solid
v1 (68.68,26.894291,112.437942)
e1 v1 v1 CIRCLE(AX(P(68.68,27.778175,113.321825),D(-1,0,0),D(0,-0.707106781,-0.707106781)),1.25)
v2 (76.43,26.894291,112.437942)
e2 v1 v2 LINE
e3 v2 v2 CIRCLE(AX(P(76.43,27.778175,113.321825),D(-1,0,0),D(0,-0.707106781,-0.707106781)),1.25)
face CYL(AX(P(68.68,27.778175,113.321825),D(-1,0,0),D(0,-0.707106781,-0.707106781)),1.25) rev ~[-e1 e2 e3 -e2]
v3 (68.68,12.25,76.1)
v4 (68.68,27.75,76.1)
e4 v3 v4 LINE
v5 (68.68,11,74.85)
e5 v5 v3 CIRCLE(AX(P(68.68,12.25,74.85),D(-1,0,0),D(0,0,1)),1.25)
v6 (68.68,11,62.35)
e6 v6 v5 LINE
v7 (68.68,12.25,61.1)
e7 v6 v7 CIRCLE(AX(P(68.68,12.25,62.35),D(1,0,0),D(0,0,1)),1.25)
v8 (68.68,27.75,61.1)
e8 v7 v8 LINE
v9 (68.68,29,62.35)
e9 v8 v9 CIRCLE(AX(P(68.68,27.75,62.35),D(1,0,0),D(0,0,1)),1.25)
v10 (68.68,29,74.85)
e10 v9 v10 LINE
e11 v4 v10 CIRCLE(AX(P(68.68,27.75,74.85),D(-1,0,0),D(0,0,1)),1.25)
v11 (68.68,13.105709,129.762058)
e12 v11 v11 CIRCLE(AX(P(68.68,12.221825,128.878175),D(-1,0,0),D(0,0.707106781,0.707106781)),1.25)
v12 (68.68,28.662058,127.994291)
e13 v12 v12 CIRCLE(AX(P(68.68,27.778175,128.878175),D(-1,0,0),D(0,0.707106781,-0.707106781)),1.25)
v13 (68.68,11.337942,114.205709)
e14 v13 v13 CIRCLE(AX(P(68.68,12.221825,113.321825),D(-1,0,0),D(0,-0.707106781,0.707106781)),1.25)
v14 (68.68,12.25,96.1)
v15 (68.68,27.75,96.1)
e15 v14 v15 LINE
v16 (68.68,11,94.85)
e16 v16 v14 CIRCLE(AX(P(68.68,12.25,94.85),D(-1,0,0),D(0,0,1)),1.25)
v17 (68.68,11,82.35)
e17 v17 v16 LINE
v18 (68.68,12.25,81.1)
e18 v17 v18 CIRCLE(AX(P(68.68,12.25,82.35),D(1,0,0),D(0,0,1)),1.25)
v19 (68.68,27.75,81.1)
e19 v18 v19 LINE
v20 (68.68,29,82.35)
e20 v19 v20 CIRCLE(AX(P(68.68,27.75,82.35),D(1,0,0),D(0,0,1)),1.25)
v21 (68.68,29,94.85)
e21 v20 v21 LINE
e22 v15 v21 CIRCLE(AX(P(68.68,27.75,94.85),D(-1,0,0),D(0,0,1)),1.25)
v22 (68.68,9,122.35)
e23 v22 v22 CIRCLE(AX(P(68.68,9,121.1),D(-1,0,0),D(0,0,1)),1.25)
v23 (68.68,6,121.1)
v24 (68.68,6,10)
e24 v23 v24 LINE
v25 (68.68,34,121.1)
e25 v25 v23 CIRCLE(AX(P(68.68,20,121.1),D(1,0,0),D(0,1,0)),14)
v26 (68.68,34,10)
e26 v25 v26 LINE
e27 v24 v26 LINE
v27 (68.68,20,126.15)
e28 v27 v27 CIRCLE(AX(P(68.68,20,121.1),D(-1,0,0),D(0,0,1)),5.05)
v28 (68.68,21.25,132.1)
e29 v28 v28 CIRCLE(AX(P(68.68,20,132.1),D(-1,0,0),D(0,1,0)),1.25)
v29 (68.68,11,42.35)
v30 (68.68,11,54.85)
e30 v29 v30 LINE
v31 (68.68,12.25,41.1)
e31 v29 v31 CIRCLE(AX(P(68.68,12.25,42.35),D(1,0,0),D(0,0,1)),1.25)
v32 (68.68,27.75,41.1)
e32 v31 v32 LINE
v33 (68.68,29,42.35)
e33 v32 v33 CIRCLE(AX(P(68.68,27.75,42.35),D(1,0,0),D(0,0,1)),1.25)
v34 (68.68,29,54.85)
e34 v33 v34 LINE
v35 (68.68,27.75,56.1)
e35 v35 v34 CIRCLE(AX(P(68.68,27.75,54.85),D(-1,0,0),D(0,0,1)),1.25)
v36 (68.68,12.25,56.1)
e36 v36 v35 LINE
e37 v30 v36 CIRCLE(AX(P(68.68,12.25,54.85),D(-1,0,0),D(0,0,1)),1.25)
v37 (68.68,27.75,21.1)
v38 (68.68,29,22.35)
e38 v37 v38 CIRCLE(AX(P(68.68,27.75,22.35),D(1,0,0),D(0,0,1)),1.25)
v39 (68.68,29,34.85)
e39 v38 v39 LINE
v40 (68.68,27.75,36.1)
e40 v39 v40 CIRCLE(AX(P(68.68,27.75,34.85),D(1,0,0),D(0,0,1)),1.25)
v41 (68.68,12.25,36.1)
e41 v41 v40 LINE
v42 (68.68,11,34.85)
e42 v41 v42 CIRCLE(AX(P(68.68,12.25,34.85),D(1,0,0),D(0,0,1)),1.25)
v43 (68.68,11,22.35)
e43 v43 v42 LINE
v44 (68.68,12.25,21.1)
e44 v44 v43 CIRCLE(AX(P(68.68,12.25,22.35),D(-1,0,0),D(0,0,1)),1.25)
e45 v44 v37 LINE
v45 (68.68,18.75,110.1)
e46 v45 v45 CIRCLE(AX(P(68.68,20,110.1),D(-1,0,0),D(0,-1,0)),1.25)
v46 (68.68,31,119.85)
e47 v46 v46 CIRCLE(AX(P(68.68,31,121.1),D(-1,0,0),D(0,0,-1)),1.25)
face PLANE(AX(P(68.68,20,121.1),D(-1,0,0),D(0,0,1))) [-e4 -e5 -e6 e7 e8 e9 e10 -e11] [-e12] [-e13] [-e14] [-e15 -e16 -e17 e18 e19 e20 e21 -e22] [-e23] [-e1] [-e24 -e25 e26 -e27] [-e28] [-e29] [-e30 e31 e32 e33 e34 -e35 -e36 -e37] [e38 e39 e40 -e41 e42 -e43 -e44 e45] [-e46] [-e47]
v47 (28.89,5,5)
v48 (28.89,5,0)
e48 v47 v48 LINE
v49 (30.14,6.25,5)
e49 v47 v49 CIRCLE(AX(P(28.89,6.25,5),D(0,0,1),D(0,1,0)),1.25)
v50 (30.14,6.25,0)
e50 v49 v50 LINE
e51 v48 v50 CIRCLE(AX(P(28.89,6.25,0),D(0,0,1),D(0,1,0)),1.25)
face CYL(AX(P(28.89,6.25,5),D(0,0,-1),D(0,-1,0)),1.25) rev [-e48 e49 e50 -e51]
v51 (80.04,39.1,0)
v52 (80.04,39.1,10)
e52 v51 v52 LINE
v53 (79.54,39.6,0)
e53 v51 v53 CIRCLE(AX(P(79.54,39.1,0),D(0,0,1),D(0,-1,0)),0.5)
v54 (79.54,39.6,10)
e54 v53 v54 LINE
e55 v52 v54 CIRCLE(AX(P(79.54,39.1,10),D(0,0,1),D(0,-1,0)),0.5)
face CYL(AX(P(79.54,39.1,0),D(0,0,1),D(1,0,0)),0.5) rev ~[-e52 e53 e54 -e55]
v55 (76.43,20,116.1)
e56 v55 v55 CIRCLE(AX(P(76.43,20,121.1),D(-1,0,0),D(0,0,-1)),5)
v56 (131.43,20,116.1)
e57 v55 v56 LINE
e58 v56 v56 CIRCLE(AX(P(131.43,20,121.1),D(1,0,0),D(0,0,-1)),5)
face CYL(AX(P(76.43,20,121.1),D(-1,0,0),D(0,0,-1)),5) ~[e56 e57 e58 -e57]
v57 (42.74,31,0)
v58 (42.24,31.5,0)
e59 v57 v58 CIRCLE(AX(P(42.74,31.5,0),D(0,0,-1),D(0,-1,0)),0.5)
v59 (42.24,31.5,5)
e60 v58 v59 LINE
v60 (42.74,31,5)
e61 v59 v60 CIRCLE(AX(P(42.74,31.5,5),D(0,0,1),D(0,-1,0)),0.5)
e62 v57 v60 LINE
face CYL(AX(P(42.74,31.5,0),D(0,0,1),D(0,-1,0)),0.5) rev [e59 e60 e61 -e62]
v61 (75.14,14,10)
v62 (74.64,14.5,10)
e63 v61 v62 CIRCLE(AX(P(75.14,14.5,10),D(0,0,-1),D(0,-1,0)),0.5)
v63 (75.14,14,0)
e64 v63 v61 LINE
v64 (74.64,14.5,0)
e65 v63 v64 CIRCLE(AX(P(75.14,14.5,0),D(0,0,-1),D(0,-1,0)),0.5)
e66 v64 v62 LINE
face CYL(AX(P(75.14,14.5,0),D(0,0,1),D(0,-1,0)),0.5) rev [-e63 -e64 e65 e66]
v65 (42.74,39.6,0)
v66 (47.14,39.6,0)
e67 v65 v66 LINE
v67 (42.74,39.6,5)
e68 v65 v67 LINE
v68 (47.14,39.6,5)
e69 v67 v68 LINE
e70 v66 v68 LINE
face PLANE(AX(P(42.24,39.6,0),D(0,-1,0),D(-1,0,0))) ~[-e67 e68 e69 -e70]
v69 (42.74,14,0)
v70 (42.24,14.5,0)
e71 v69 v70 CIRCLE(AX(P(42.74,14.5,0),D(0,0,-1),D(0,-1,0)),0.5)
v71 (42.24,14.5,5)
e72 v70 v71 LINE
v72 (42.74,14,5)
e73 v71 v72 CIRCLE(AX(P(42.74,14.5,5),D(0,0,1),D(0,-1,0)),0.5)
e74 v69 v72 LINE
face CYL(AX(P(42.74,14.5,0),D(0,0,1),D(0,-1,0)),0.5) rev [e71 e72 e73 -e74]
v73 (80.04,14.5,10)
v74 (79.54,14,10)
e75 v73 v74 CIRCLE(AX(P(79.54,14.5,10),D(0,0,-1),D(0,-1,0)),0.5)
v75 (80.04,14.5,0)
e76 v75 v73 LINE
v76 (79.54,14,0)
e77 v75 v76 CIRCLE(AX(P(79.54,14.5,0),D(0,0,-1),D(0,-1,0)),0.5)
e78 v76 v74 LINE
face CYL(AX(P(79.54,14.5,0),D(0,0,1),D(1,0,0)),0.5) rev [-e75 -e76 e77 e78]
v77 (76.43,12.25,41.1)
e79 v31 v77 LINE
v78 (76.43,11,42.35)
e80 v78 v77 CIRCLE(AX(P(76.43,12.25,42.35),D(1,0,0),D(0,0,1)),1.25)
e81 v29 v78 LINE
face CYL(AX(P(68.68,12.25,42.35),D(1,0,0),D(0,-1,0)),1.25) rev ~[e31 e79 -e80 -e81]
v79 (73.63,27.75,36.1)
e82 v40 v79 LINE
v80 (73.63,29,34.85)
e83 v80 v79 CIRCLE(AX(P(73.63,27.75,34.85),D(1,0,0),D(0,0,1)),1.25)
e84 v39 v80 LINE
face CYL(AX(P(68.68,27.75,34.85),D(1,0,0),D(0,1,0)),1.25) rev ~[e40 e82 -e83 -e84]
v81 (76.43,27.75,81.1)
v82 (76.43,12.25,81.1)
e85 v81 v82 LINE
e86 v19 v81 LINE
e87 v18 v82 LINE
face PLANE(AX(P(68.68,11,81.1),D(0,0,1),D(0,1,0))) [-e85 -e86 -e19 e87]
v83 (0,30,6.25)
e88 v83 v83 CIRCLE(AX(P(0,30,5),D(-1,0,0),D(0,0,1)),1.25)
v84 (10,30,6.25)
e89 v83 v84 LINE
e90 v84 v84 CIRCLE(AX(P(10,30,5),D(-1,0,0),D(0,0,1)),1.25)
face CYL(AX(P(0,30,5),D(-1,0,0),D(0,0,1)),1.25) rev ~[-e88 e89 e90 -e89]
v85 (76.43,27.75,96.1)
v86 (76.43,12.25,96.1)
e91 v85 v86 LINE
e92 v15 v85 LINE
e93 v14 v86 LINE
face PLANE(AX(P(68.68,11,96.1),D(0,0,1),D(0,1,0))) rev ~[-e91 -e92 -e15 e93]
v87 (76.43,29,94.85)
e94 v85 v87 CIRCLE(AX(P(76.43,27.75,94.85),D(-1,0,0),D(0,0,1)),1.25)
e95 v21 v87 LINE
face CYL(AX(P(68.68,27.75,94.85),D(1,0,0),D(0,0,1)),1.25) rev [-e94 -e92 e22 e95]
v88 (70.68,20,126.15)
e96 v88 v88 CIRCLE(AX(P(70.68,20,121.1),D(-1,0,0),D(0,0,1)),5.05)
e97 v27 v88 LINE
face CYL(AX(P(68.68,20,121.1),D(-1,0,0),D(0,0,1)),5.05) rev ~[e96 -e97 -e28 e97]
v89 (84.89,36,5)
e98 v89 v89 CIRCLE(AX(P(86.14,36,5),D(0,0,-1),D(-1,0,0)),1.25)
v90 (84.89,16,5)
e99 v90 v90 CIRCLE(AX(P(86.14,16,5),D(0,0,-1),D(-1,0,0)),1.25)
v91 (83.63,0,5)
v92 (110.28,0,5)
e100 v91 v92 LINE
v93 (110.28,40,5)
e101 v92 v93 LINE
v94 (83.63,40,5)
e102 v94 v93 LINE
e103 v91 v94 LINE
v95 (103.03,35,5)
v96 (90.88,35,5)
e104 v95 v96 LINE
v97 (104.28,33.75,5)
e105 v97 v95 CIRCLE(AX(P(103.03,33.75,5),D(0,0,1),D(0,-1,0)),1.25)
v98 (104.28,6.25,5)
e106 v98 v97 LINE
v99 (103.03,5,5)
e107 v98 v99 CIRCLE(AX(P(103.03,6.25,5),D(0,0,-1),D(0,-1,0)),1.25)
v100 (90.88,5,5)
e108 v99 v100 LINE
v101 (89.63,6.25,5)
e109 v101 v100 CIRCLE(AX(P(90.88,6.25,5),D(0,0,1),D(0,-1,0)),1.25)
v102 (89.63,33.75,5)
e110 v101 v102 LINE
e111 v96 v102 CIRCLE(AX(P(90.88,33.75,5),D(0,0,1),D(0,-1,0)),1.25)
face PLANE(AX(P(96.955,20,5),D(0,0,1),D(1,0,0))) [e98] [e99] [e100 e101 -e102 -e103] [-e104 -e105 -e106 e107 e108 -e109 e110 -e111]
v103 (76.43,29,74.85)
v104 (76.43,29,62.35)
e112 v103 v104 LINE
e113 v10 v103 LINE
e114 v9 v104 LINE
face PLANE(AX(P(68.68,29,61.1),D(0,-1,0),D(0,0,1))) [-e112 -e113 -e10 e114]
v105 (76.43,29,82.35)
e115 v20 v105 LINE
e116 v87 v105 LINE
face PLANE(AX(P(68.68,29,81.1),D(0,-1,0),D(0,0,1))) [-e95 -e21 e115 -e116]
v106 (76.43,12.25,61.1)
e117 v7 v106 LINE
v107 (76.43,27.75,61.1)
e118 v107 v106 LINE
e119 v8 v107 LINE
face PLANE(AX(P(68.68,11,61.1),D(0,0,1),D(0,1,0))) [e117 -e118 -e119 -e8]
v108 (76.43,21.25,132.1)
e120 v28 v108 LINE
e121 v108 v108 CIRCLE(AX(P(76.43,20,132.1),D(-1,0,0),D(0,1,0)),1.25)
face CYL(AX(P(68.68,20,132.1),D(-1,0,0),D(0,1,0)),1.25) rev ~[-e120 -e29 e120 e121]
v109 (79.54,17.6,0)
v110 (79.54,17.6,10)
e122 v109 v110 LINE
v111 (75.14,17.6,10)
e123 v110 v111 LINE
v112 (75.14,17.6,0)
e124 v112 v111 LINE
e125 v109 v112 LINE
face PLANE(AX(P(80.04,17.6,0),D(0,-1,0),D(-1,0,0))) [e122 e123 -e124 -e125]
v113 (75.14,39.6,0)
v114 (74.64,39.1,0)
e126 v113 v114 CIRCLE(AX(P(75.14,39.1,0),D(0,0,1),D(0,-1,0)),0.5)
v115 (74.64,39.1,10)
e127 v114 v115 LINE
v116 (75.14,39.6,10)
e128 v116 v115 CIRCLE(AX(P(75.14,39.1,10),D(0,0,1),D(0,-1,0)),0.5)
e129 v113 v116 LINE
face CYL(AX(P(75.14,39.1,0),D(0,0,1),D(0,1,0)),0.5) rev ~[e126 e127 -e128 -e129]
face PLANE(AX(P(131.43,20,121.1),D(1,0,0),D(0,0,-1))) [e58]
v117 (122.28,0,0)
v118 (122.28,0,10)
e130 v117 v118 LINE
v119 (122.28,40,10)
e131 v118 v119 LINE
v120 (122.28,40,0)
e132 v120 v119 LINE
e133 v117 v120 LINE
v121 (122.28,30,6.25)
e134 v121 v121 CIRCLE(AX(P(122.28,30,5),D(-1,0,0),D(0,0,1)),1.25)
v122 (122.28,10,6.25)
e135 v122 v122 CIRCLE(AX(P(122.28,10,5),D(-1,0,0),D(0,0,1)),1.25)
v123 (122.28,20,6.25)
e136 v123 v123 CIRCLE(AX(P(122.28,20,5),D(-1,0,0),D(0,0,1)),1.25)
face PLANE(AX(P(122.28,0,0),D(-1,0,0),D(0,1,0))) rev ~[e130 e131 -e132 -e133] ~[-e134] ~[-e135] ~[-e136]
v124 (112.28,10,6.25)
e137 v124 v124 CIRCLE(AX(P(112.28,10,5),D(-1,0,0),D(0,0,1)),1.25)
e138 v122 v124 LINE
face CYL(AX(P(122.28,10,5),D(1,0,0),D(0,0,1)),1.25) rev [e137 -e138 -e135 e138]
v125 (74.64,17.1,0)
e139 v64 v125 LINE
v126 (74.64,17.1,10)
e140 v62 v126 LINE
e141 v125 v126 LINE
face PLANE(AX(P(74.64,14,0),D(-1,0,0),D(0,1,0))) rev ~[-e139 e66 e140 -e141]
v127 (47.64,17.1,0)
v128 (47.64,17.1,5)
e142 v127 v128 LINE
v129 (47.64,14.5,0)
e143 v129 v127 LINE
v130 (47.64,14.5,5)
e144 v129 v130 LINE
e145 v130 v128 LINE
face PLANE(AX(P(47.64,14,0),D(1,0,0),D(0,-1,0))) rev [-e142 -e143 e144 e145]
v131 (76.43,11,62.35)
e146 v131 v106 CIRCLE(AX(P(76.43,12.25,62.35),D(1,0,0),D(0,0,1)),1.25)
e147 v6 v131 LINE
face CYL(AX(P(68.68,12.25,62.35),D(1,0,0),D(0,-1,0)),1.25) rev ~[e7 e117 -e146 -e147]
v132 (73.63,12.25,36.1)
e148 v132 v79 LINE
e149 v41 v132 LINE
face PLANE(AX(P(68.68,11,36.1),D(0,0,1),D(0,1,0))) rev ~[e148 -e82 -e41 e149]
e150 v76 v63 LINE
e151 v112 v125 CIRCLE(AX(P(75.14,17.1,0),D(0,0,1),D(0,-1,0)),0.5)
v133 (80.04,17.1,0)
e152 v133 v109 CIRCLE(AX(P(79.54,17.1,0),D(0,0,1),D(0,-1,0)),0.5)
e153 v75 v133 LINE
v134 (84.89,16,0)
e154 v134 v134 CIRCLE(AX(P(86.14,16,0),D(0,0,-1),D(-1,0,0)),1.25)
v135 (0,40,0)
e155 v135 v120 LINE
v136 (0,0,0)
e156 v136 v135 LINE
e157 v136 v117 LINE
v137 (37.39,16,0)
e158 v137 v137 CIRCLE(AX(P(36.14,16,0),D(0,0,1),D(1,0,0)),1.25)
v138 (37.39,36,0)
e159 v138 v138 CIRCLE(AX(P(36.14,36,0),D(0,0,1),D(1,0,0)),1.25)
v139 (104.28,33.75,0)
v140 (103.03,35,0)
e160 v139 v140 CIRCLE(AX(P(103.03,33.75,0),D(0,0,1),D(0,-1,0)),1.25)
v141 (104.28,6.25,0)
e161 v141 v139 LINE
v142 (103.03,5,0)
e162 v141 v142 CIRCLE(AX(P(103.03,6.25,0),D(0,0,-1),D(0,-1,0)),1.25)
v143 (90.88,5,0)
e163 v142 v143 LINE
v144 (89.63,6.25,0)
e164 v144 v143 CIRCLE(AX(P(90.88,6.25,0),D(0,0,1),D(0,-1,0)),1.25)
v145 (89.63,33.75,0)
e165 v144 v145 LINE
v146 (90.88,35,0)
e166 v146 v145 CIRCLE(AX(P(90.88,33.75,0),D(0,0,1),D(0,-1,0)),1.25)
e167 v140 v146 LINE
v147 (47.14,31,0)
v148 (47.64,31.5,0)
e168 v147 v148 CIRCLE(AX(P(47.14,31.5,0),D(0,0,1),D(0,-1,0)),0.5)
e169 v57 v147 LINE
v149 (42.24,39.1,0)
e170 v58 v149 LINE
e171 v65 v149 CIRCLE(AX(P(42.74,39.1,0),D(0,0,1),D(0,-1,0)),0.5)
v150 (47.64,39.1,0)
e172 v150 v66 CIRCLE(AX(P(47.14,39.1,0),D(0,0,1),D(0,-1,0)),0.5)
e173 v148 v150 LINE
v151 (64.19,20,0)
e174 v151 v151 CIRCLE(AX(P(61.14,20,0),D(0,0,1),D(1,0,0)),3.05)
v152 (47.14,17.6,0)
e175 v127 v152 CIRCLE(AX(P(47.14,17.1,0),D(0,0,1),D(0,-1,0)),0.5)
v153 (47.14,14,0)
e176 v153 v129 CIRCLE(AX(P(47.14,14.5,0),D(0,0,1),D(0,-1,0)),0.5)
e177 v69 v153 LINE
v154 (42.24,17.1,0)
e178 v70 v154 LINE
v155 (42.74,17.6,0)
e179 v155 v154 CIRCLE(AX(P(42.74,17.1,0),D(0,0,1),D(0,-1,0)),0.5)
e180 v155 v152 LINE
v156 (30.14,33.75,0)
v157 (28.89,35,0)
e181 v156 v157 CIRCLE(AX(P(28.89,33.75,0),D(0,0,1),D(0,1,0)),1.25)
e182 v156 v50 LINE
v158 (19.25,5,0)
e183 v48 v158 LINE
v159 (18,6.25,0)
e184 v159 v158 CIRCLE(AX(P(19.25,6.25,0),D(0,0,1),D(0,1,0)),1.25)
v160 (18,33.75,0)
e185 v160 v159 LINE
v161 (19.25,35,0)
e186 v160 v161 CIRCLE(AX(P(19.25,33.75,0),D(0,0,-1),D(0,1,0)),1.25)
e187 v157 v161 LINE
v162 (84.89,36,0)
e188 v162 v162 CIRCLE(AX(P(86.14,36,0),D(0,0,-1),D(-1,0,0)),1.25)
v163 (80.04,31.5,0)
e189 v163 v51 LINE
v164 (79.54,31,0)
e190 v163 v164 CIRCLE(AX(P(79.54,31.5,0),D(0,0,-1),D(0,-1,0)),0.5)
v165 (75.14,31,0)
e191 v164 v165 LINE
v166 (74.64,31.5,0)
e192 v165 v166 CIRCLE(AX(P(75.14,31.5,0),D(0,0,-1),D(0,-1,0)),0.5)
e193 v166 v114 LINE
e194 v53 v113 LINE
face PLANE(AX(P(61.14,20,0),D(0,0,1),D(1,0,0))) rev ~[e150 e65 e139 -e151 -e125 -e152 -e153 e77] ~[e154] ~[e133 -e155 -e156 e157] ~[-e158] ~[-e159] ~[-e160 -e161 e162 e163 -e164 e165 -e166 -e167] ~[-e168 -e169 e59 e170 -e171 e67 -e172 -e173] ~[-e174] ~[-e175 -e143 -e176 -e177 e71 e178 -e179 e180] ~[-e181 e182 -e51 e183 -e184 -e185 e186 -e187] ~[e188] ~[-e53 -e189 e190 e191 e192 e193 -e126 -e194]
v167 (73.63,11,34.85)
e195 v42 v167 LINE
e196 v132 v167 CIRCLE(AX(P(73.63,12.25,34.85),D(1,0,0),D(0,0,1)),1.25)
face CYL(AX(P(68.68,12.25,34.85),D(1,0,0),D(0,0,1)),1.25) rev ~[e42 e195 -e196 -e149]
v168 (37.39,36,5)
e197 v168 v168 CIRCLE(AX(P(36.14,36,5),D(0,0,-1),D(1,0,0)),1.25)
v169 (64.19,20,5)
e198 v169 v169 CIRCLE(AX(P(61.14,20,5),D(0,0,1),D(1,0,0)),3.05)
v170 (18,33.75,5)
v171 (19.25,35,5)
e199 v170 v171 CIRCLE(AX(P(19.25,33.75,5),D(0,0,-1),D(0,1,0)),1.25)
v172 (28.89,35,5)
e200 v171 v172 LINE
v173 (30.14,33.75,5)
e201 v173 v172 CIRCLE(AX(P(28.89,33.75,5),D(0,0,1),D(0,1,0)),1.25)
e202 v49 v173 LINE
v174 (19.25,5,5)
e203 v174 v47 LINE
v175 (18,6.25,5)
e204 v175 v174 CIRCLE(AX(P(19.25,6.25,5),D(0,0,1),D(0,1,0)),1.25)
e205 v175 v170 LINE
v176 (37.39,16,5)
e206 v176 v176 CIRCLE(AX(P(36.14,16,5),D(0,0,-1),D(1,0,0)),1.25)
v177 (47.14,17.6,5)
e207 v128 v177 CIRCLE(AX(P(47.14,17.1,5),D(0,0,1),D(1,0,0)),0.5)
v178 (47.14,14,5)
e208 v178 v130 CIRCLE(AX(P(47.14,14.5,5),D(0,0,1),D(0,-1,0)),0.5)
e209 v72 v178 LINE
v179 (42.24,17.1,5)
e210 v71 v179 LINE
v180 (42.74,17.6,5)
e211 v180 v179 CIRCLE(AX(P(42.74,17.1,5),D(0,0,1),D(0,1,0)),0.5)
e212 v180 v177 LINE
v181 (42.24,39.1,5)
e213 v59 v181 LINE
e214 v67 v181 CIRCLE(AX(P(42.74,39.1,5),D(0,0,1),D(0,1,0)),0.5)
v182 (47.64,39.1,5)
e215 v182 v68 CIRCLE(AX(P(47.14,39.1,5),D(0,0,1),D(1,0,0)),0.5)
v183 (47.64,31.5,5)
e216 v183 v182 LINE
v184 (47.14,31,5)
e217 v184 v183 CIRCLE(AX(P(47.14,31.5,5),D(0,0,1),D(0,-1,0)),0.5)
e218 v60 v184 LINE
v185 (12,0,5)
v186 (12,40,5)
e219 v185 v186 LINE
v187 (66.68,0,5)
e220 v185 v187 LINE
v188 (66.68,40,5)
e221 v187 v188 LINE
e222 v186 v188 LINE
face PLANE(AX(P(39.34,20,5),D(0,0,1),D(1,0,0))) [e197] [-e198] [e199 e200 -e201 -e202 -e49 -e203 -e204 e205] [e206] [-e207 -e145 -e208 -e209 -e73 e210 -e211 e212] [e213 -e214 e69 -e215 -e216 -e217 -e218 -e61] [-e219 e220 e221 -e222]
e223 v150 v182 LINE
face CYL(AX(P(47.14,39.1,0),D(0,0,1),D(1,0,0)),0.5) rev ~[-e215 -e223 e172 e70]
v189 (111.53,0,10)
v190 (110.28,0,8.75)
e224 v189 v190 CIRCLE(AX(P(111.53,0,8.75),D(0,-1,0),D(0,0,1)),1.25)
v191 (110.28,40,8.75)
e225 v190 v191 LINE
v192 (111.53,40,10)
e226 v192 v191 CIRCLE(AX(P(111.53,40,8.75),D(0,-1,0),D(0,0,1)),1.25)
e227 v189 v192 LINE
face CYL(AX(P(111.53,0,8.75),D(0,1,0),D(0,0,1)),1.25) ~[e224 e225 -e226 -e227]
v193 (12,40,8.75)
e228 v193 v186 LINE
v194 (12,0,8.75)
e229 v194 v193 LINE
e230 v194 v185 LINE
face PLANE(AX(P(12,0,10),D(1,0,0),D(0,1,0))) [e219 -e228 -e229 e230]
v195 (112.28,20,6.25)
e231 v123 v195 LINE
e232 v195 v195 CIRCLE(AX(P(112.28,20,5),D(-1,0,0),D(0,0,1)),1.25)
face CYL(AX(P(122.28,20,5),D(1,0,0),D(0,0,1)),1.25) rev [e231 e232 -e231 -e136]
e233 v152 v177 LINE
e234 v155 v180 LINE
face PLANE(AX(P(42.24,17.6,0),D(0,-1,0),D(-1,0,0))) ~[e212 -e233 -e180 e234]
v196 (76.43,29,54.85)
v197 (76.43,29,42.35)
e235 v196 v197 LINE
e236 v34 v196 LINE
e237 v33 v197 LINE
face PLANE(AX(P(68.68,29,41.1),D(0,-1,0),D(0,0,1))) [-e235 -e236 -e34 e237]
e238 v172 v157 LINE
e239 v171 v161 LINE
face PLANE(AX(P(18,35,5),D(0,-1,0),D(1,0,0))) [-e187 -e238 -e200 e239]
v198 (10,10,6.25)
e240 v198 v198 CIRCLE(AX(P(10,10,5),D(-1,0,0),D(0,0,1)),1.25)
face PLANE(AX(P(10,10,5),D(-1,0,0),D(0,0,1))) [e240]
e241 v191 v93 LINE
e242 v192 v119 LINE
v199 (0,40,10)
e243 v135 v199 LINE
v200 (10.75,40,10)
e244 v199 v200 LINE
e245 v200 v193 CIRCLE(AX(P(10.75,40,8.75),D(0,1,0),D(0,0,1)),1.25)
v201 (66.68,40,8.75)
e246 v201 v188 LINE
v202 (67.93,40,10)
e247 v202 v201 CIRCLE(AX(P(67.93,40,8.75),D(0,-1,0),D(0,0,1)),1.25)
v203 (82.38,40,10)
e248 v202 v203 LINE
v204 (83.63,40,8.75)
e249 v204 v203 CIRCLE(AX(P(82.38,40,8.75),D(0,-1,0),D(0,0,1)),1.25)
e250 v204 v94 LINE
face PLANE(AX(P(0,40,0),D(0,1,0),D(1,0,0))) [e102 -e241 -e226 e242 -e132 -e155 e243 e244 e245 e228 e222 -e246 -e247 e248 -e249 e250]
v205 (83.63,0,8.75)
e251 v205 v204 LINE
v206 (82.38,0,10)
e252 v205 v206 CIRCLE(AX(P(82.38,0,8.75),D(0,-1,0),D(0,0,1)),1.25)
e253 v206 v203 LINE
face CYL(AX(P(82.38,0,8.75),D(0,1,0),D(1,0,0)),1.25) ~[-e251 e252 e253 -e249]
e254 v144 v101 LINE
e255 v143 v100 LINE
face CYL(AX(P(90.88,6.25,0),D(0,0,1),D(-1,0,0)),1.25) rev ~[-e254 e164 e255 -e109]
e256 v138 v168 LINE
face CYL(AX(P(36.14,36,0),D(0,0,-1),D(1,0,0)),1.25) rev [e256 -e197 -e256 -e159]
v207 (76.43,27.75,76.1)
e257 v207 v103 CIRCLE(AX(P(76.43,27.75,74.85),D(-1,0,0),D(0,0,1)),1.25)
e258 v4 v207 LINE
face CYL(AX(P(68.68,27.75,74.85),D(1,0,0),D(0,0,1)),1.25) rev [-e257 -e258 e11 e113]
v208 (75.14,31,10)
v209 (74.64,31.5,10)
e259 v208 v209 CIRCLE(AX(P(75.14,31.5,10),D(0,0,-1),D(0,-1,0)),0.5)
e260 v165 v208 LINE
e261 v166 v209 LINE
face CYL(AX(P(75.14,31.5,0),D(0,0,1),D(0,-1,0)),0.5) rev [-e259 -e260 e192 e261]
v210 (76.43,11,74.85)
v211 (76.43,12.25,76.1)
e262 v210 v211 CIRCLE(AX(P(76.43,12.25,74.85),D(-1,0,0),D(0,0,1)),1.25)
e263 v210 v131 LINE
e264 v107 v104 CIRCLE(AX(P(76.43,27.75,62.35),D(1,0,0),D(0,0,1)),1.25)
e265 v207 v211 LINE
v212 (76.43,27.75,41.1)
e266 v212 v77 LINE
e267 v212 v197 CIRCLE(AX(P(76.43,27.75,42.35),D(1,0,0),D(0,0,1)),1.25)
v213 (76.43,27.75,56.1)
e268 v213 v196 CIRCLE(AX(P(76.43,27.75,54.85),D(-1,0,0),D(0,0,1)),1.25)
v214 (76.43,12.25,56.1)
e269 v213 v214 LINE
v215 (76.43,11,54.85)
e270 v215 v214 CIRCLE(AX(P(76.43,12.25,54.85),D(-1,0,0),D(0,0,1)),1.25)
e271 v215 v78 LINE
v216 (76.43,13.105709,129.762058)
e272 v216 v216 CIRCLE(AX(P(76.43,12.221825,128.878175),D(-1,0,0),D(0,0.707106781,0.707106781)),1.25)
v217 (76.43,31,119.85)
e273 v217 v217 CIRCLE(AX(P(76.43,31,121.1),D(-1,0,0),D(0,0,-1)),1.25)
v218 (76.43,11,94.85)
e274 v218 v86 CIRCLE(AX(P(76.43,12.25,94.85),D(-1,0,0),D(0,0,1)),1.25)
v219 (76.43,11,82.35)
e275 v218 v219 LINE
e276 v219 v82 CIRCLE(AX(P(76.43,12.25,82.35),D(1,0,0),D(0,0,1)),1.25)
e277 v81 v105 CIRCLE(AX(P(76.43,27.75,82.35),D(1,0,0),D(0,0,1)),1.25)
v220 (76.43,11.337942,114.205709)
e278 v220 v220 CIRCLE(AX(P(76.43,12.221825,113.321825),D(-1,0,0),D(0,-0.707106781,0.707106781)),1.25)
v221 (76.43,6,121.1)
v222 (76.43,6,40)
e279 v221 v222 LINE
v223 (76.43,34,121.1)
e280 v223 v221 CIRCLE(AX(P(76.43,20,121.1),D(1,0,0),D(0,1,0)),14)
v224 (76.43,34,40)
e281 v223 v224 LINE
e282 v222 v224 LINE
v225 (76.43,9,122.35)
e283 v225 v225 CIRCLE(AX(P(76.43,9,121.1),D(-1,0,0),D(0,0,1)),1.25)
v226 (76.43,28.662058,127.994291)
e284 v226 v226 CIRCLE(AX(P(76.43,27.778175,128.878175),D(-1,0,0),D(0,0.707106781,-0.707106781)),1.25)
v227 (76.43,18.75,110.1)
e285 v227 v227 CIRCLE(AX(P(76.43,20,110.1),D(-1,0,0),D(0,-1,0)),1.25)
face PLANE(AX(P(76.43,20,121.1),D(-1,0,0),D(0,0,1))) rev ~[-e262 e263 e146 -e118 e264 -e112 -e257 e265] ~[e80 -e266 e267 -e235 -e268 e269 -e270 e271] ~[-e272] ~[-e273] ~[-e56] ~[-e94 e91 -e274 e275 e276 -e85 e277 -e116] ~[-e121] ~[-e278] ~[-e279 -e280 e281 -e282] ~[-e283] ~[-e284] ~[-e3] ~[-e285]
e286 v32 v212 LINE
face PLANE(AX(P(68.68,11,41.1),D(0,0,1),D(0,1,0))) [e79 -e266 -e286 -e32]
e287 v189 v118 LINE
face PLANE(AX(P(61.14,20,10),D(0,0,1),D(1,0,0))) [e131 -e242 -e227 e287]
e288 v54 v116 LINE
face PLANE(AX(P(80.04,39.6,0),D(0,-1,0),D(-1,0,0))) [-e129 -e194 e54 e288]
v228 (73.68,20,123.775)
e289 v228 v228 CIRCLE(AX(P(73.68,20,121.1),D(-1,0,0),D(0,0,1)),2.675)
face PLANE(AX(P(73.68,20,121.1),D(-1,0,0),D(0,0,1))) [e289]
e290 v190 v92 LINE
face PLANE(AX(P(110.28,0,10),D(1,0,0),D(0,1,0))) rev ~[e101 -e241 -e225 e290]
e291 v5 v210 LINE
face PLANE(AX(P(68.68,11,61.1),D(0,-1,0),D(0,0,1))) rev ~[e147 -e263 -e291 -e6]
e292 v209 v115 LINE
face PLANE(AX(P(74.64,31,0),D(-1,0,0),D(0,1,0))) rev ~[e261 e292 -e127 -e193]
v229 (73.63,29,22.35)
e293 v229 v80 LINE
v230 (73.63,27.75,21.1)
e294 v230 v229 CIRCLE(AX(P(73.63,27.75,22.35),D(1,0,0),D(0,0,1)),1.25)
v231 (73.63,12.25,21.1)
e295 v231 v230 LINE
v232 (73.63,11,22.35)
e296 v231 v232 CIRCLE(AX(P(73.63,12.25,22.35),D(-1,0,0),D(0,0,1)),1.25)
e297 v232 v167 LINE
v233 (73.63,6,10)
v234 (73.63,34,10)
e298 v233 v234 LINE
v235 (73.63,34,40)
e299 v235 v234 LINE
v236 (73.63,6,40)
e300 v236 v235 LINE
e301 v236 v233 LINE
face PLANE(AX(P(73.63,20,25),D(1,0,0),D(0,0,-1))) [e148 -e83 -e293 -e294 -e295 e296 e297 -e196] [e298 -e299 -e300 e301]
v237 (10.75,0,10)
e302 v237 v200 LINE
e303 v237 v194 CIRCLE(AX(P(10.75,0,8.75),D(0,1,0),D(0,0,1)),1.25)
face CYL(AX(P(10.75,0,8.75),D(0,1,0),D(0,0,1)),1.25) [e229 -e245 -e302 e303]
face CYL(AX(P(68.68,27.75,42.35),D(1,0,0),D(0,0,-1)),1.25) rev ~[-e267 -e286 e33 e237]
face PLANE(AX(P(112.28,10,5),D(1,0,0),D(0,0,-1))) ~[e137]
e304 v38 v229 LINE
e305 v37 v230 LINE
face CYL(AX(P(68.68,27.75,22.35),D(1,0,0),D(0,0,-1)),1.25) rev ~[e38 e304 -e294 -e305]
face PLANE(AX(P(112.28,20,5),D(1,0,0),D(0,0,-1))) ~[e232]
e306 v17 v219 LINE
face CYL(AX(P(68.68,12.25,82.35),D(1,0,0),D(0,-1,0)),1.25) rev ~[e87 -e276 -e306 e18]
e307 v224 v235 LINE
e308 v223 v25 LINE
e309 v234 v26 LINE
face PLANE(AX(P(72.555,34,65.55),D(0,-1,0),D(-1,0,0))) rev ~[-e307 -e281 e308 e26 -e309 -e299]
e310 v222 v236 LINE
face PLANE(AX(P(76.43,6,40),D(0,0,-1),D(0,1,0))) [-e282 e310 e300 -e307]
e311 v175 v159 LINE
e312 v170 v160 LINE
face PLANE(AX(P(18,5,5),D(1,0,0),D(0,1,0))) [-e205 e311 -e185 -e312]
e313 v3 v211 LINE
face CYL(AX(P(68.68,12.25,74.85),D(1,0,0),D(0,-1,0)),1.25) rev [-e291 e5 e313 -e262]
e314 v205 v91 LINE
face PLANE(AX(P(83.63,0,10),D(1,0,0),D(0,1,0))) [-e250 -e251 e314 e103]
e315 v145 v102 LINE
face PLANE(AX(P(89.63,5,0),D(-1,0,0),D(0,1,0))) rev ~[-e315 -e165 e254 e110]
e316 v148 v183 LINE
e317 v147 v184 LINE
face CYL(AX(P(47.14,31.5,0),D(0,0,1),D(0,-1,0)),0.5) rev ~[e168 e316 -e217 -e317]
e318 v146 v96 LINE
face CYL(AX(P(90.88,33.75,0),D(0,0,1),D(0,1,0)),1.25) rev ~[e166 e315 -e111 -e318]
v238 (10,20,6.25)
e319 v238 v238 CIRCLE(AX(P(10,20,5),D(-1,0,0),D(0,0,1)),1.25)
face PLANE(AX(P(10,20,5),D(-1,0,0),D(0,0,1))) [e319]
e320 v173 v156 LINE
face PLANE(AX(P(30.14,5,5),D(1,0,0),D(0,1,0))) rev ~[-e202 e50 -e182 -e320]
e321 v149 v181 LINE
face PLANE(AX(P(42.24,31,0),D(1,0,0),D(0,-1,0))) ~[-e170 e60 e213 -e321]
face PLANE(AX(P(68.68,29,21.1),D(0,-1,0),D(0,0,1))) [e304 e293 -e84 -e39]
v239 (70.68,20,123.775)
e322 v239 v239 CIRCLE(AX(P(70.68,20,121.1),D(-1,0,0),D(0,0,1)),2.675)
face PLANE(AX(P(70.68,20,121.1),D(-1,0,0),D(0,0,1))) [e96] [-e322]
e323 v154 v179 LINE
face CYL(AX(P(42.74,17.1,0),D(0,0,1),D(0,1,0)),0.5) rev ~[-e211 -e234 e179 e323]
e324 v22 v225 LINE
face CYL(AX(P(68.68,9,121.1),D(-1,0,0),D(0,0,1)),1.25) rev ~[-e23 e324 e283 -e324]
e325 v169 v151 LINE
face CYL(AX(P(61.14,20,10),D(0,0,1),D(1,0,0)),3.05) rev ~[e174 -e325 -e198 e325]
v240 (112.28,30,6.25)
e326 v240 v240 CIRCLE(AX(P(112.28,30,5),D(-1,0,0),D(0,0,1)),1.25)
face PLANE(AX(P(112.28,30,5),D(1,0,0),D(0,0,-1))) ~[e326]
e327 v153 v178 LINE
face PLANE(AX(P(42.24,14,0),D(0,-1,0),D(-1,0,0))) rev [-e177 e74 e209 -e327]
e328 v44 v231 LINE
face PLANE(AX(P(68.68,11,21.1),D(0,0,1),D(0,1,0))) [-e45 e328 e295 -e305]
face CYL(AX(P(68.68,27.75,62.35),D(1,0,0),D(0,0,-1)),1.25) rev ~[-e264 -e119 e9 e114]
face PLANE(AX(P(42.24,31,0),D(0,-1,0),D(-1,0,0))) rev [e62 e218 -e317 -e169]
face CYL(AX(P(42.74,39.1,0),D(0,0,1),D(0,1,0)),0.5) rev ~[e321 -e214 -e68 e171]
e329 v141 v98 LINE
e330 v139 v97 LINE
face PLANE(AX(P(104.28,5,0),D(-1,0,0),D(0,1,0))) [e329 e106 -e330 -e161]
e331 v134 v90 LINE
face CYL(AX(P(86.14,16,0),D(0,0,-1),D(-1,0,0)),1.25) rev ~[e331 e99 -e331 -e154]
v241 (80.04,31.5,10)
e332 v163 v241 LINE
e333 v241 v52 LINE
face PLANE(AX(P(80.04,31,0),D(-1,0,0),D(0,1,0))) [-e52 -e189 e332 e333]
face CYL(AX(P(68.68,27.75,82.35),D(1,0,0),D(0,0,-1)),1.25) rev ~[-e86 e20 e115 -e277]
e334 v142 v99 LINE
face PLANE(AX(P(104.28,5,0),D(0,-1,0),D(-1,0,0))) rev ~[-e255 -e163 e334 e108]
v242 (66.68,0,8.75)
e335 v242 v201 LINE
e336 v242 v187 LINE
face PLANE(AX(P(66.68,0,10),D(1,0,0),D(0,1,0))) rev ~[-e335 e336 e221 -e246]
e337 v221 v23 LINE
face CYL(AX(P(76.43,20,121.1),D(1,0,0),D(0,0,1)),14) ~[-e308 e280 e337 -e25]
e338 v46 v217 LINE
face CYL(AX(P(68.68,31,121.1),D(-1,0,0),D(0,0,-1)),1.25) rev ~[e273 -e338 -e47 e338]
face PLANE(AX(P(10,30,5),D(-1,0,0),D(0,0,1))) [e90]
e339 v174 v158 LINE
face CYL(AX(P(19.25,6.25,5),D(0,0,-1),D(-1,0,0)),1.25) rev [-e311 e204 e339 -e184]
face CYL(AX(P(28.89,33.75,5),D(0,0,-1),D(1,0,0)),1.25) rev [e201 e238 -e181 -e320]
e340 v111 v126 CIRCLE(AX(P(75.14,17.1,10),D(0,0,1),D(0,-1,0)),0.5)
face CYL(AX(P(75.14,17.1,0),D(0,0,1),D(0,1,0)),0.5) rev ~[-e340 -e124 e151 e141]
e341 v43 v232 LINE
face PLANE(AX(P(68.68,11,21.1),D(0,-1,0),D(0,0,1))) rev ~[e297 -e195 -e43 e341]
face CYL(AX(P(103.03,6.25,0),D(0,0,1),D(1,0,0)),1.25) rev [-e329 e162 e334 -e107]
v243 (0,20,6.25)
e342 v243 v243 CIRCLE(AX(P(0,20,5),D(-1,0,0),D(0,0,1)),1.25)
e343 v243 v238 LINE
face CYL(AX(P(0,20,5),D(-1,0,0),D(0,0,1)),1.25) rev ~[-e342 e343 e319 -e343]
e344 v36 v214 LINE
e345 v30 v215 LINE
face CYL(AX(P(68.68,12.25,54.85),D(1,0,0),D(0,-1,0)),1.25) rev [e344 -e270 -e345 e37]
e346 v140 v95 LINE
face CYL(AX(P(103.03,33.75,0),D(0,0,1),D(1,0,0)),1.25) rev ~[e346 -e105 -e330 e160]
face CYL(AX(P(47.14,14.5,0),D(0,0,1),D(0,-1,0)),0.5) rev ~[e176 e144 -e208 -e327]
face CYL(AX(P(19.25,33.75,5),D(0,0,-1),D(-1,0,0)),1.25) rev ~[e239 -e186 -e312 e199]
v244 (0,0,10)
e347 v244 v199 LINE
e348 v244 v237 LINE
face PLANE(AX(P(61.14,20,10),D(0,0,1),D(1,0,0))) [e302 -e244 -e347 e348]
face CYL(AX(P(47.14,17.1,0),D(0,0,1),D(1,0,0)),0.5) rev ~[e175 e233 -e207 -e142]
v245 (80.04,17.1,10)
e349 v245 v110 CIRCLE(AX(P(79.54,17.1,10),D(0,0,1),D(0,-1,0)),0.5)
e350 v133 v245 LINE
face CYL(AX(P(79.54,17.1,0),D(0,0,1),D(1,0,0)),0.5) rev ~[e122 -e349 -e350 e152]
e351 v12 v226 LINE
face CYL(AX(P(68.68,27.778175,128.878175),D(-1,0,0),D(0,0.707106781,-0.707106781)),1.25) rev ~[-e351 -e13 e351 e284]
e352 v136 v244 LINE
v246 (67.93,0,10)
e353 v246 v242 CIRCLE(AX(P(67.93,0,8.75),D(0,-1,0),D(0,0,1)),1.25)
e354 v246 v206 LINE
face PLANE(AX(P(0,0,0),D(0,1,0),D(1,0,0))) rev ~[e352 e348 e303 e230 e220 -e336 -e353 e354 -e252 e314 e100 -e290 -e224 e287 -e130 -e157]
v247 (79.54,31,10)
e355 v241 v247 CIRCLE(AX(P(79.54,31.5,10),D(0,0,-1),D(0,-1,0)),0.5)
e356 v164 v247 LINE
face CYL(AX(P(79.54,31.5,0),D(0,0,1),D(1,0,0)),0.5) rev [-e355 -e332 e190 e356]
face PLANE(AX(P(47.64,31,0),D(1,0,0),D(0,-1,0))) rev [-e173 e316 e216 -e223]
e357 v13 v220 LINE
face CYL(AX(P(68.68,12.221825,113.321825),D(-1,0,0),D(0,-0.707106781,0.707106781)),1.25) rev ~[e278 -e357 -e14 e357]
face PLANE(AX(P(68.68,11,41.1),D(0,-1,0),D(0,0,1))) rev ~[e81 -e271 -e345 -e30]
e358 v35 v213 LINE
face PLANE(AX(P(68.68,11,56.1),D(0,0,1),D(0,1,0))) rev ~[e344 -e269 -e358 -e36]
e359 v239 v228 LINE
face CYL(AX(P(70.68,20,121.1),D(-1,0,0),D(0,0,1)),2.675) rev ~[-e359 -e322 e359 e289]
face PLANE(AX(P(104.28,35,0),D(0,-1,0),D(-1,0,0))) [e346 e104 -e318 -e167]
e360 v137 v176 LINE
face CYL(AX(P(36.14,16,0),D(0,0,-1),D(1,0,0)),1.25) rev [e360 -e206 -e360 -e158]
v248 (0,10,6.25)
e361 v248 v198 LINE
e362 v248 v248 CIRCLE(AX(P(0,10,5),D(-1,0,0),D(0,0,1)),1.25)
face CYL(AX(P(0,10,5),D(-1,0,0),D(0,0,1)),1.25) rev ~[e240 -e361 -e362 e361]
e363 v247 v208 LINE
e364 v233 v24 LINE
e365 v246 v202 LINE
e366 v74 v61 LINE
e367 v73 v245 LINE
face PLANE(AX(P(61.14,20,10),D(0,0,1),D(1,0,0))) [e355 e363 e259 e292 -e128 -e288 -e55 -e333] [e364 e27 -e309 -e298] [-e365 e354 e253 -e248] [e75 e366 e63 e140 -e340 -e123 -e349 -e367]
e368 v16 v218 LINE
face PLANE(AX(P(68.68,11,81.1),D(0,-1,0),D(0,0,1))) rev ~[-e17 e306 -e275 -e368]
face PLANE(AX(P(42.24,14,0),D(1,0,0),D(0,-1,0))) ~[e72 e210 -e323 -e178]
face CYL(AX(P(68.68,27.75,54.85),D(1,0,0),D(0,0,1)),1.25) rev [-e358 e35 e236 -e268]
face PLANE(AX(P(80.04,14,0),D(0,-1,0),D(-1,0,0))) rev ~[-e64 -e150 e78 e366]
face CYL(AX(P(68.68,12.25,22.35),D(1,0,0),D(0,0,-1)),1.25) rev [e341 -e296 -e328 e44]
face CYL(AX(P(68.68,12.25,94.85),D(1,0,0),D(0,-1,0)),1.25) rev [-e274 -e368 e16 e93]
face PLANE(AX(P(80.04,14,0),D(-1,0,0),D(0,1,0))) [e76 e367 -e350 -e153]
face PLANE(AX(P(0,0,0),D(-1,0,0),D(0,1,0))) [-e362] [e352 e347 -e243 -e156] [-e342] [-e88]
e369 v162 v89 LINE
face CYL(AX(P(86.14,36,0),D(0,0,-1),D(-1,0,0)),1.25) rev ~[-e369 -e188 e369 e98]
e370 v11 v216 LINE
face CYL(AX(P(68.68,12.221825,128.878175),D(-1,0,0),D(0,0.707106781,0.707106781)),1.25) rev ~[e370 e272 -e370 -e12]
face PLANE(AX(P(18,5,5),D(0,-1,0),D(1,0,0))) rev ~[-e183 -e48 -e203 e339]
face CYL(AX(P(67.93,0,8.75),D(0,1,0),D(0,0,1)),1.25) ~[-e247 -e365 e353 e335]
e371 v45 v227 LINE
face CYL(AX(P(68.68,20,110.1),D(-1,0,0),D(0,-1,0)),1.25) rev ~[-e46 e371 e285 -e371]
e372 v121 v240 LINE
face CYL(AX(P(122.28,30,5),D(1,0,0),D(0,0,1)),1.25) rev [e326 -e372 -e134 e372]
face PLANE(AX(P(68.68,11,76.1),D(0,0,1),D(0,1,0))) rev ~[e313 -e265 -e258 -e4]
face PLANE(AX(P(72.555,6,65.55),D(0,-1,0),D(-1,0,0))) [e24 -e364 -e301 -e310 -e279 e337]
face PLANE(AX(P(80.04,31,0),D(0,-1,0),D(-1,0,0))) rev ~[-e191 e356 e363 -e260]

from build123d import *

# Parameters (mm, degrees)
SKETCH1_W           = 122.28
SKETCH1_H           = 40
BOSS_EXTRUDE1_DEPTH = 10
SKETCH2_R           = 3.05
SKETCH2_R_2         = 1.25
CUT_EXTRUDE1_DEPTH  = 10
SKETCH3_R           = 1.25
CUT_EXTRUDE2_DEPTH  = 10
SKETCH4_R           = 5
BOSS_EXTRUDE2_DEPTH = 55
SKETCH5_R           = 14
BOSS_EXTRUDE3_DEPTH = 7.75
SKETCH10_W          = 7.75
SKETCH10_H          = 111.1
BOSS_EXTRUDE4_DEPTH = 28
CUT_EXTRUDE6_REACH  = 158.745
SKETCH8_R           = 1.25
CIRPATTERN2_COUNT   = 8
SKETCH6_R           = 5.05
CUT_EXTRUDE7_DEPTH  = 2
SKETCH11_R          = 2.675
CUT_EXTRUDE8_DEPTH  = 3
SKETCH14_W          = 30
SKETCH14_H          = 28
CUT_EXTRUDE10_DEPTH = 2.8
SKETCH15_R          = 1.25
CUT_EXTRUDE11_DEPTH = 10
SKETCH16_W          = 5.4
SKETCH16_H          = 8.6
SKETCH16_H_2        = 3.6
CUT_EXTRUDE12_DEPTH = 10
FILLET1_R           = 0.5
FILLET2_R           = 0.5
SKETCH17_W          = 54.68
SKETCH17_H          = 40
CUT_EXTRUDE14_DEPTH = 5
SKETCH18_W          = 26.65
SKETCH18_H          = 40
CUT_EXTRUDE15_DEPTH = 5
FILLET4_R           = 1.25
CUT_EXTRUDE17_REACH = 158.745
SKETCH21_W          = 15
SKETCH21_H          = 18
FILLET5_R           = 1.25
CUT_EXTRUDE18_REACH = 194.681
SKETCH22_W          = 14.65
SKETCH22_H          = 30
FILLET6_R           = 1.25
CUT_EXTRUDE19_REACH = 191.208
SKETCH23_W          = 12.14
SKETCH23_H          = 30
FILLET7_R           = 1.25


with BuildPart() as part:
    # Sketch1 → Boss-Extrude1 (new body)
    with BuildSketch(Plane.XY):
        with Locations((61.14, 20)):
            Rectangle(SKETCH1_W, SKETCH1_H)
    extrude(amount=BOSS_EXTRUDE1_DEPTH)

    # Sketch2 → Cut-Extrude1 (cut)
    with BuildSketch(Plane.XY.offset(10)):
        with Locations((61.14, 20)):
            Circle(SKETCH2_R)
        with Locations((76.14, 32.5)):
            Circle(SKETCH2_R_2)
        with Locations((76.14, 15.5)):
            Circle(SKETCH2_R_2)
    cut_extrude1 = extrude(amount=-CUT_EXTRUDE1_DEPTH, mode=Mode.SUBTRACT)

    # Mirror1: Cut-Extrude1 across plane
    add(cut_extrude1.mirror(Plane.ZY.offset(-61.14)), mode=Mode.SUBTRACT)

    # Sketch3 → Cut-Extrude2 (cut)
    with BuildSketch(Plane.ZY):
        with Locations((5, 20)):
            Circle(SKETCH3_R)
        with Locations((5, 30)):
            Circle(SKETCH3_R)
        with Locations((5, 10)):
            Circle(SKETCH3_R)
    cut_extrude2 = extrude(amount=-CUT_EXTRUDE2_DEPTH, mode=Mode.SUBTRACT)

    # Mirror2: Cut-Extrude2 across plane
    add(cut_extrude2.mirror(Plane.ZY.offset(-61.14)), mode=Mode.SUBTRACT)



with BuildPart() as body_2:
    # Sketch4 → Boss-Extrude2 (new body)
    with BuildSketch(Plane(origin=(76.43, 0, 0), x_dir=(0, 0, -1), z_dir=(1, 0, 0))):
        with Locations((-121.1, 20)):
            Circle(SKETCH4_R)
    extrude(amount=BOSS_EXTRUDE2_DEPTH)

    # Sketch5 → Boss-Extrude3 (add)
    with BuildSketch(Plane.ZY.offset(-76.43)):
        with Locations((121.1, 20)):
            Circle(SKETCH5_R)
    extrude(amount=BOSS_EXTRUDE3_DEPTH)


with BuildPart() as part_1:
    add(part.part)

    add(body_2.part)  # Boss-Extrude4 merges body 2
    # Sketch10 → Boss-Extrude4 (add)
    with BuildSketch(Plane(origin=(0, 6, 0), x_dir=(-1, 0, 0), z_dir=(0, -1, 0))):
        with Locations((-72.555, -65.55)):
            Rectangle(SKETCH10_W, SKETCH10_H)
    extrude(amount=-BOSS_EXTRUDE4_DEPTH)

    # Sketch8 → Cut-Extrude6 (cut, up to next)
    with BuildSketch(Plane.ZY.offset(-68.68), mode=Mode.PRIVATE) as cut_extrude6_sk1:
        with Locations((121.1, 9)):
            Circle(SKETCH8_R)
    cut_extrude6_tool1 = extrude(cut_extrude6_sk1.sketch, amount=-CUT_EXTRUDE6_REACH, mode=Mode.PRIVATE) & part_1.part
    cut_extrude6 = cut_extrude6_tool1.solids().sort_by_distance((68.68, 9, 121.1))[0]
    add(cut_extrude6, mode=Mode.SUBTRACT)

    # CirPattern2: Cut-Extrude6 ×8 about axis
    cirpattern2_axis = Axis((68.68, 20, 121.1), (-1, 0, 0))
    for i in range(1, CIRPATTERN2_COUNT):
        add(cut_extrude6.rotate(cirpattern2_axis, i * 360 / CIRPATTERN2_COUNT), mode=Mode.SUBTRACT)

    # Sketch6 → Cut-Extrude7 (cut)
    with BuildSketch(Plane.ZY.offset(-68.68)):
        with Locations((121.1, 20)):
            Circle(SKETCH6_R)
    extrude(amount=-CUT_EXTRUDE7_DEPTH, mode=Mode.SUBTRACT)

    # Sketch11 → Cut-Extrude8 (cut)
    with BuildSketch(Plane.ZY.offset(-70.68)):
        with Locations((121.1, 20)):
            Circle(SKETCH11_R)
    extrude(amount=-CUT_EXTRUDE8_DEPTH, mode=Mode.SUBTRACT)

    # Sketch14 → Cut-Extrude10 (cut)
    with BuildSketch(Plane(origin=(76.43, 0, 0), x_dir=(0, 0, -1), z_dir=(1, 0, 0))):
        with Locations((-25, 20)):
            Rectangle(SKETCH14_W, SKETCH14_H)
    extrude(amount=-CUT_EXTRUDE10_DEPTH, mode=Mode.SUBTRACT)

    # Sketch15 → Cut-Extrude11 (cut)
    with BuildSketch(Plane(origin=(0, 0, 0), x_dir=(-1, 0, 0), z_dir=(0, 0, -1))):
        with Locations((-86.14, 16)):
            Circle(SKETCH15_R)
        with Locations((-86.14, 36)):
            Circle(SKETCH15_R)
    cut_extrude11 = extrude(amount=-CUT_EXTRUDE11_DEPTH, mode=Mode.SUBTRACT)

    # Mirror3: Cut-Extrude11 across plane
    add(cut_extrude11.mirror(Plane.ZY.offset(-61.14)), mode=Mode.SUBTRACT)

    # Sketch16 → Cut-Extrude12 (cut)
    with BuildSketch(Plane(origin=(0, 0, 0), x_dir=(-1, 0, 0), z_dir=(0, 0, -1))):
        with Locations((-77.34, 35.3)):
            Rectangle(SKETCH16_W, SKETCH16_H)
        with Locations((-77.34, 15.8)):
            Rectangle(SKETCH16_W, SKETCH16_H_2)
    cut_extrude12 = extrude(amount=-CUT_EXTRUDE12_DEPTH, mode=Mode.SUBTRACT)

    # Mirror4: Cut-Extrude12 across plane
    add(cut_extrude12.mirror(Plane.ZY.offset(-61.14)), mode=Mode.SUBTRACT)

    # Fillet1
    fillet1_edges = [part_1.edges().sort_by_distance(p)[0] for p in [
        (74.64, 17.6, 5),
        (80.04, 17.6, 5),
        (80.04, 14, 5),
        (74.64, 14, 5),
        (42.24, 17.6, 5),
        (47.64, 17.6, 5),
        (47.64, 14, 5),
        (42.24, 14, 5),
    ]]
    fillet(fillet1_edges, radius=FILLET1_R)

    # Fillet2
    fillet2_edges = [part_1.edges().sort_by_distance(p)[0] for p in [
        (80.04, 31, 5),
        (74.64, 31, 5),
        (80.04, 39.6, 5),
        (74.64, 39.6, 5),
        (47.64, 39.6, 5),
        (42.24, 39.6, 5),
        (47.64, 31, 5),
        (42.24, 31, 5),
    ]]
    fillet(fillet2_edges, radius=FILLET2_R)

    # Sketch17 → Cut-Extrude14 (cut)
    with BuildSketch(Plane.XY.offset(10)):
        with Locations((39.34, 20)):
            Rectangle(SKETCH17_W, SKETCH17_H)
    extrude(amount=-CUT_EXTRUDE14_DEPTH, mode=Mode.SUBTRACT)

    # Sketch18 → Cut-Extrude15 (cut)
    with BuildSketch(Plane.XY.offset(10)):
        with Locations((96.955, 20)):
            Rectangle(SKETCH18_W, SKETCH18_H)
    extrude(amount=-CUT_EXTRUDE15_DEPTH, mode=Mode.SUBTRACT)

    # Fillet4
    fillet4_edges = [part_1.edges().sort_by_distance(p)[0] for p in [
        (12, 20, 10),
        (66.68, 20, 10),
        (83.63, 20, 10),
        (110.28, 20, 10),
    ]]
    fillet(fillet4_edges, radius=FILLET4_R)

    # Sketch21 → Cut-Extrude17 (cut, up to next)
    with BuildSketch(Plane.ZY.offset(-68.68), mode=Mode.PRIVATE) as cut_extrude17_sk1:
        with Locations((88.6, 20)):
            Rectangle(SKETCH21_W, SKETCH21_H)
    cut_extrude17_tool1 = extrude(cut_extrude17_sk1.sketch, amount=-CUT_EXTRUDE17_REACH, mode=Mode.PRIVATE) & part_1.part
    # Sketch21 → Cut-Extrude17 (cut, up to next)
    with BuildSketch(Plane.ZY.offset(-68.68), mode=Mode.PRIVATE) as cut_extrude17_sk2:
        with Locations((68.6, 20)):
            Rectangle(SKETCH21_W, SKETCH21_H)
    cut_extrude17_tool2 = extrude(cut_extrude17_sk2.sketch, amount=-CUT_EXTRUDE17_REACH, mode=Mode.PRIVATE) & part_1.part
    # Sketch21 → Cut-Extrude17 (cut, up to next)
    with BuildSketch(Plane.ZY.offset(-68.68), mode=Mode.PRIVATE) as cut_extrude17_sk3:
        with Locations((48.6, 20)):
            Rectangle(SKETCH21_W, SKETCH21_H)
    cut_extrude17_tool3 = extrude(cut_extrude17_sk3.sketch, amount=-CUT_EXTRUDE17_REACH, mode=Mode.PRIVATE) & part_1.part
    # Sketch21 → Cut-Extrude17 (cut, up to next)
    with BuildSketch(Plane.ZY.offset(-68.68), mode=Mode.PRIVATE) as cut_extrude17_sk4:
        with Locations((28.6, 20)):
            Rectangle(SKETCH21_W, SKETCH21_H)
    cut_extrude17_tool4 = extrude(cut_extrude17_sk4.sketch, amount=-CUT_EXTRUDE17_REACH, mode=Mode.PRIVATE) & part_1.part
    add(cut_extrude17_tool1.solids().sort_by_distance((68.68, 20, 88.6))[0], mode=Mode.SUBTRACT)
    add(cut_extrude17_tool2.solids().sort_by_distance((68.68, 20, 68.6))[0], mode=Mode.SUBTRACT)
    add(cut_extrude17_tool3.solids().sort_by_distance((68.68, 20, 48.6))[0], mode=Mode.SUBTRACT)
    add(cut_extrude17_tool4.solids().sort_by_distance((68.68, 20, 28.6))[0], mode=Mode.SUBTRACT)

    # Fillet5
    fillet5_edges = [part_1.edges().sort_by_distance(p)[0] for p in [
        (71.155, 11, 36.1),
        (71.155, 29, 36.1),
        (71.155, 29, 21.1),
        (71.155, 11, 21.1),
        (72.555, 11, 41.1),
        (72.555, 29, 41.1),
        (72.555, 29, 56.1),
        (72.555, 11, 56.1),
        (72.555, 29, 61.1),
        (72.555, 11, 61.1),
        (72.555, 11, 76.1),
        (72.555, 29, 76.1),
        (72.555, 29, 81.1),
        (72.555, 11, 81.1),
        (72.555, 11, 96.1),
        (72.555, 29, 96.1),
    ]]
    fillet(fillet5_edges, radius=FILLET5_R)

    # Sketch22 → Cut-Extrude18 (cut, up to next)
    with BuildSketch(Plane(origin=(0, 0, 0), x_dir=(-1, 0, 0), z_dir=(0, 0, -1)), mode=Mode.PRIVATE) as cut_extrude18_sk1:
        with Locations((-96.955, 20)):
            Rectangle(SKETCH22_W, SKETCH22_H)
    cut_extrude18_tool1 = extrude(cut_extrude18_sk1.sketch, amount=-CUT_EXTRUDE18_REACH, mode=Mode.PRIVATE) & part_1.part
    add(cut_extrude18_tool1.solids().sort_by_distance((96.955, 20, 0))[0], mode=Mode.SUBTRACT)

    # Fillet6
    fillet6_edges = [part_1.edges().sort_by_distance(p)[0] for p in [
        (104.28, 35, 2.5),
        (89.63, 35, 2.5),
        (89.63, 5, 2.5),
        (104.28, 5, 2.5),
    ]]
    fillet(fillet6_edges, radius=FILLET6_R)

    # Sketch23 → Cut-Extrude19 (cut, up to next)
    with BuildSketch(Plane.XY.offset(5), mode=Mode.PRIVATE) as cut_extrude19_sk1:
        with Locations((24.07, 20)):
            Rectangle(SKETCH23_W, SKETCH23_H)
    cut_extrude19_tool1 = extrude(cut_extrude19_sk1.sketch, amount=-CUT_EXTRUDE19_REACH, mode=Mode.PRIVATE) & part_1.part
    add(cut_extrude19_tool1.solids().sort_by_distance((24.07, 20, 5))[0], mode=Mode.SUBTRACT)

    # Fillet7
    fillet7_edges = [part_1.edges().sort_by_distance(p)[0] for p in [
        (18, 35, 2.5),
        (30.14, 35, 2.5),
        (30.14, 5, 2.5),
        (18, 5, 2.5),
    ]]
    fillet(fillet7_edges, radius=FILLET7_R)


solid = part_1.part
